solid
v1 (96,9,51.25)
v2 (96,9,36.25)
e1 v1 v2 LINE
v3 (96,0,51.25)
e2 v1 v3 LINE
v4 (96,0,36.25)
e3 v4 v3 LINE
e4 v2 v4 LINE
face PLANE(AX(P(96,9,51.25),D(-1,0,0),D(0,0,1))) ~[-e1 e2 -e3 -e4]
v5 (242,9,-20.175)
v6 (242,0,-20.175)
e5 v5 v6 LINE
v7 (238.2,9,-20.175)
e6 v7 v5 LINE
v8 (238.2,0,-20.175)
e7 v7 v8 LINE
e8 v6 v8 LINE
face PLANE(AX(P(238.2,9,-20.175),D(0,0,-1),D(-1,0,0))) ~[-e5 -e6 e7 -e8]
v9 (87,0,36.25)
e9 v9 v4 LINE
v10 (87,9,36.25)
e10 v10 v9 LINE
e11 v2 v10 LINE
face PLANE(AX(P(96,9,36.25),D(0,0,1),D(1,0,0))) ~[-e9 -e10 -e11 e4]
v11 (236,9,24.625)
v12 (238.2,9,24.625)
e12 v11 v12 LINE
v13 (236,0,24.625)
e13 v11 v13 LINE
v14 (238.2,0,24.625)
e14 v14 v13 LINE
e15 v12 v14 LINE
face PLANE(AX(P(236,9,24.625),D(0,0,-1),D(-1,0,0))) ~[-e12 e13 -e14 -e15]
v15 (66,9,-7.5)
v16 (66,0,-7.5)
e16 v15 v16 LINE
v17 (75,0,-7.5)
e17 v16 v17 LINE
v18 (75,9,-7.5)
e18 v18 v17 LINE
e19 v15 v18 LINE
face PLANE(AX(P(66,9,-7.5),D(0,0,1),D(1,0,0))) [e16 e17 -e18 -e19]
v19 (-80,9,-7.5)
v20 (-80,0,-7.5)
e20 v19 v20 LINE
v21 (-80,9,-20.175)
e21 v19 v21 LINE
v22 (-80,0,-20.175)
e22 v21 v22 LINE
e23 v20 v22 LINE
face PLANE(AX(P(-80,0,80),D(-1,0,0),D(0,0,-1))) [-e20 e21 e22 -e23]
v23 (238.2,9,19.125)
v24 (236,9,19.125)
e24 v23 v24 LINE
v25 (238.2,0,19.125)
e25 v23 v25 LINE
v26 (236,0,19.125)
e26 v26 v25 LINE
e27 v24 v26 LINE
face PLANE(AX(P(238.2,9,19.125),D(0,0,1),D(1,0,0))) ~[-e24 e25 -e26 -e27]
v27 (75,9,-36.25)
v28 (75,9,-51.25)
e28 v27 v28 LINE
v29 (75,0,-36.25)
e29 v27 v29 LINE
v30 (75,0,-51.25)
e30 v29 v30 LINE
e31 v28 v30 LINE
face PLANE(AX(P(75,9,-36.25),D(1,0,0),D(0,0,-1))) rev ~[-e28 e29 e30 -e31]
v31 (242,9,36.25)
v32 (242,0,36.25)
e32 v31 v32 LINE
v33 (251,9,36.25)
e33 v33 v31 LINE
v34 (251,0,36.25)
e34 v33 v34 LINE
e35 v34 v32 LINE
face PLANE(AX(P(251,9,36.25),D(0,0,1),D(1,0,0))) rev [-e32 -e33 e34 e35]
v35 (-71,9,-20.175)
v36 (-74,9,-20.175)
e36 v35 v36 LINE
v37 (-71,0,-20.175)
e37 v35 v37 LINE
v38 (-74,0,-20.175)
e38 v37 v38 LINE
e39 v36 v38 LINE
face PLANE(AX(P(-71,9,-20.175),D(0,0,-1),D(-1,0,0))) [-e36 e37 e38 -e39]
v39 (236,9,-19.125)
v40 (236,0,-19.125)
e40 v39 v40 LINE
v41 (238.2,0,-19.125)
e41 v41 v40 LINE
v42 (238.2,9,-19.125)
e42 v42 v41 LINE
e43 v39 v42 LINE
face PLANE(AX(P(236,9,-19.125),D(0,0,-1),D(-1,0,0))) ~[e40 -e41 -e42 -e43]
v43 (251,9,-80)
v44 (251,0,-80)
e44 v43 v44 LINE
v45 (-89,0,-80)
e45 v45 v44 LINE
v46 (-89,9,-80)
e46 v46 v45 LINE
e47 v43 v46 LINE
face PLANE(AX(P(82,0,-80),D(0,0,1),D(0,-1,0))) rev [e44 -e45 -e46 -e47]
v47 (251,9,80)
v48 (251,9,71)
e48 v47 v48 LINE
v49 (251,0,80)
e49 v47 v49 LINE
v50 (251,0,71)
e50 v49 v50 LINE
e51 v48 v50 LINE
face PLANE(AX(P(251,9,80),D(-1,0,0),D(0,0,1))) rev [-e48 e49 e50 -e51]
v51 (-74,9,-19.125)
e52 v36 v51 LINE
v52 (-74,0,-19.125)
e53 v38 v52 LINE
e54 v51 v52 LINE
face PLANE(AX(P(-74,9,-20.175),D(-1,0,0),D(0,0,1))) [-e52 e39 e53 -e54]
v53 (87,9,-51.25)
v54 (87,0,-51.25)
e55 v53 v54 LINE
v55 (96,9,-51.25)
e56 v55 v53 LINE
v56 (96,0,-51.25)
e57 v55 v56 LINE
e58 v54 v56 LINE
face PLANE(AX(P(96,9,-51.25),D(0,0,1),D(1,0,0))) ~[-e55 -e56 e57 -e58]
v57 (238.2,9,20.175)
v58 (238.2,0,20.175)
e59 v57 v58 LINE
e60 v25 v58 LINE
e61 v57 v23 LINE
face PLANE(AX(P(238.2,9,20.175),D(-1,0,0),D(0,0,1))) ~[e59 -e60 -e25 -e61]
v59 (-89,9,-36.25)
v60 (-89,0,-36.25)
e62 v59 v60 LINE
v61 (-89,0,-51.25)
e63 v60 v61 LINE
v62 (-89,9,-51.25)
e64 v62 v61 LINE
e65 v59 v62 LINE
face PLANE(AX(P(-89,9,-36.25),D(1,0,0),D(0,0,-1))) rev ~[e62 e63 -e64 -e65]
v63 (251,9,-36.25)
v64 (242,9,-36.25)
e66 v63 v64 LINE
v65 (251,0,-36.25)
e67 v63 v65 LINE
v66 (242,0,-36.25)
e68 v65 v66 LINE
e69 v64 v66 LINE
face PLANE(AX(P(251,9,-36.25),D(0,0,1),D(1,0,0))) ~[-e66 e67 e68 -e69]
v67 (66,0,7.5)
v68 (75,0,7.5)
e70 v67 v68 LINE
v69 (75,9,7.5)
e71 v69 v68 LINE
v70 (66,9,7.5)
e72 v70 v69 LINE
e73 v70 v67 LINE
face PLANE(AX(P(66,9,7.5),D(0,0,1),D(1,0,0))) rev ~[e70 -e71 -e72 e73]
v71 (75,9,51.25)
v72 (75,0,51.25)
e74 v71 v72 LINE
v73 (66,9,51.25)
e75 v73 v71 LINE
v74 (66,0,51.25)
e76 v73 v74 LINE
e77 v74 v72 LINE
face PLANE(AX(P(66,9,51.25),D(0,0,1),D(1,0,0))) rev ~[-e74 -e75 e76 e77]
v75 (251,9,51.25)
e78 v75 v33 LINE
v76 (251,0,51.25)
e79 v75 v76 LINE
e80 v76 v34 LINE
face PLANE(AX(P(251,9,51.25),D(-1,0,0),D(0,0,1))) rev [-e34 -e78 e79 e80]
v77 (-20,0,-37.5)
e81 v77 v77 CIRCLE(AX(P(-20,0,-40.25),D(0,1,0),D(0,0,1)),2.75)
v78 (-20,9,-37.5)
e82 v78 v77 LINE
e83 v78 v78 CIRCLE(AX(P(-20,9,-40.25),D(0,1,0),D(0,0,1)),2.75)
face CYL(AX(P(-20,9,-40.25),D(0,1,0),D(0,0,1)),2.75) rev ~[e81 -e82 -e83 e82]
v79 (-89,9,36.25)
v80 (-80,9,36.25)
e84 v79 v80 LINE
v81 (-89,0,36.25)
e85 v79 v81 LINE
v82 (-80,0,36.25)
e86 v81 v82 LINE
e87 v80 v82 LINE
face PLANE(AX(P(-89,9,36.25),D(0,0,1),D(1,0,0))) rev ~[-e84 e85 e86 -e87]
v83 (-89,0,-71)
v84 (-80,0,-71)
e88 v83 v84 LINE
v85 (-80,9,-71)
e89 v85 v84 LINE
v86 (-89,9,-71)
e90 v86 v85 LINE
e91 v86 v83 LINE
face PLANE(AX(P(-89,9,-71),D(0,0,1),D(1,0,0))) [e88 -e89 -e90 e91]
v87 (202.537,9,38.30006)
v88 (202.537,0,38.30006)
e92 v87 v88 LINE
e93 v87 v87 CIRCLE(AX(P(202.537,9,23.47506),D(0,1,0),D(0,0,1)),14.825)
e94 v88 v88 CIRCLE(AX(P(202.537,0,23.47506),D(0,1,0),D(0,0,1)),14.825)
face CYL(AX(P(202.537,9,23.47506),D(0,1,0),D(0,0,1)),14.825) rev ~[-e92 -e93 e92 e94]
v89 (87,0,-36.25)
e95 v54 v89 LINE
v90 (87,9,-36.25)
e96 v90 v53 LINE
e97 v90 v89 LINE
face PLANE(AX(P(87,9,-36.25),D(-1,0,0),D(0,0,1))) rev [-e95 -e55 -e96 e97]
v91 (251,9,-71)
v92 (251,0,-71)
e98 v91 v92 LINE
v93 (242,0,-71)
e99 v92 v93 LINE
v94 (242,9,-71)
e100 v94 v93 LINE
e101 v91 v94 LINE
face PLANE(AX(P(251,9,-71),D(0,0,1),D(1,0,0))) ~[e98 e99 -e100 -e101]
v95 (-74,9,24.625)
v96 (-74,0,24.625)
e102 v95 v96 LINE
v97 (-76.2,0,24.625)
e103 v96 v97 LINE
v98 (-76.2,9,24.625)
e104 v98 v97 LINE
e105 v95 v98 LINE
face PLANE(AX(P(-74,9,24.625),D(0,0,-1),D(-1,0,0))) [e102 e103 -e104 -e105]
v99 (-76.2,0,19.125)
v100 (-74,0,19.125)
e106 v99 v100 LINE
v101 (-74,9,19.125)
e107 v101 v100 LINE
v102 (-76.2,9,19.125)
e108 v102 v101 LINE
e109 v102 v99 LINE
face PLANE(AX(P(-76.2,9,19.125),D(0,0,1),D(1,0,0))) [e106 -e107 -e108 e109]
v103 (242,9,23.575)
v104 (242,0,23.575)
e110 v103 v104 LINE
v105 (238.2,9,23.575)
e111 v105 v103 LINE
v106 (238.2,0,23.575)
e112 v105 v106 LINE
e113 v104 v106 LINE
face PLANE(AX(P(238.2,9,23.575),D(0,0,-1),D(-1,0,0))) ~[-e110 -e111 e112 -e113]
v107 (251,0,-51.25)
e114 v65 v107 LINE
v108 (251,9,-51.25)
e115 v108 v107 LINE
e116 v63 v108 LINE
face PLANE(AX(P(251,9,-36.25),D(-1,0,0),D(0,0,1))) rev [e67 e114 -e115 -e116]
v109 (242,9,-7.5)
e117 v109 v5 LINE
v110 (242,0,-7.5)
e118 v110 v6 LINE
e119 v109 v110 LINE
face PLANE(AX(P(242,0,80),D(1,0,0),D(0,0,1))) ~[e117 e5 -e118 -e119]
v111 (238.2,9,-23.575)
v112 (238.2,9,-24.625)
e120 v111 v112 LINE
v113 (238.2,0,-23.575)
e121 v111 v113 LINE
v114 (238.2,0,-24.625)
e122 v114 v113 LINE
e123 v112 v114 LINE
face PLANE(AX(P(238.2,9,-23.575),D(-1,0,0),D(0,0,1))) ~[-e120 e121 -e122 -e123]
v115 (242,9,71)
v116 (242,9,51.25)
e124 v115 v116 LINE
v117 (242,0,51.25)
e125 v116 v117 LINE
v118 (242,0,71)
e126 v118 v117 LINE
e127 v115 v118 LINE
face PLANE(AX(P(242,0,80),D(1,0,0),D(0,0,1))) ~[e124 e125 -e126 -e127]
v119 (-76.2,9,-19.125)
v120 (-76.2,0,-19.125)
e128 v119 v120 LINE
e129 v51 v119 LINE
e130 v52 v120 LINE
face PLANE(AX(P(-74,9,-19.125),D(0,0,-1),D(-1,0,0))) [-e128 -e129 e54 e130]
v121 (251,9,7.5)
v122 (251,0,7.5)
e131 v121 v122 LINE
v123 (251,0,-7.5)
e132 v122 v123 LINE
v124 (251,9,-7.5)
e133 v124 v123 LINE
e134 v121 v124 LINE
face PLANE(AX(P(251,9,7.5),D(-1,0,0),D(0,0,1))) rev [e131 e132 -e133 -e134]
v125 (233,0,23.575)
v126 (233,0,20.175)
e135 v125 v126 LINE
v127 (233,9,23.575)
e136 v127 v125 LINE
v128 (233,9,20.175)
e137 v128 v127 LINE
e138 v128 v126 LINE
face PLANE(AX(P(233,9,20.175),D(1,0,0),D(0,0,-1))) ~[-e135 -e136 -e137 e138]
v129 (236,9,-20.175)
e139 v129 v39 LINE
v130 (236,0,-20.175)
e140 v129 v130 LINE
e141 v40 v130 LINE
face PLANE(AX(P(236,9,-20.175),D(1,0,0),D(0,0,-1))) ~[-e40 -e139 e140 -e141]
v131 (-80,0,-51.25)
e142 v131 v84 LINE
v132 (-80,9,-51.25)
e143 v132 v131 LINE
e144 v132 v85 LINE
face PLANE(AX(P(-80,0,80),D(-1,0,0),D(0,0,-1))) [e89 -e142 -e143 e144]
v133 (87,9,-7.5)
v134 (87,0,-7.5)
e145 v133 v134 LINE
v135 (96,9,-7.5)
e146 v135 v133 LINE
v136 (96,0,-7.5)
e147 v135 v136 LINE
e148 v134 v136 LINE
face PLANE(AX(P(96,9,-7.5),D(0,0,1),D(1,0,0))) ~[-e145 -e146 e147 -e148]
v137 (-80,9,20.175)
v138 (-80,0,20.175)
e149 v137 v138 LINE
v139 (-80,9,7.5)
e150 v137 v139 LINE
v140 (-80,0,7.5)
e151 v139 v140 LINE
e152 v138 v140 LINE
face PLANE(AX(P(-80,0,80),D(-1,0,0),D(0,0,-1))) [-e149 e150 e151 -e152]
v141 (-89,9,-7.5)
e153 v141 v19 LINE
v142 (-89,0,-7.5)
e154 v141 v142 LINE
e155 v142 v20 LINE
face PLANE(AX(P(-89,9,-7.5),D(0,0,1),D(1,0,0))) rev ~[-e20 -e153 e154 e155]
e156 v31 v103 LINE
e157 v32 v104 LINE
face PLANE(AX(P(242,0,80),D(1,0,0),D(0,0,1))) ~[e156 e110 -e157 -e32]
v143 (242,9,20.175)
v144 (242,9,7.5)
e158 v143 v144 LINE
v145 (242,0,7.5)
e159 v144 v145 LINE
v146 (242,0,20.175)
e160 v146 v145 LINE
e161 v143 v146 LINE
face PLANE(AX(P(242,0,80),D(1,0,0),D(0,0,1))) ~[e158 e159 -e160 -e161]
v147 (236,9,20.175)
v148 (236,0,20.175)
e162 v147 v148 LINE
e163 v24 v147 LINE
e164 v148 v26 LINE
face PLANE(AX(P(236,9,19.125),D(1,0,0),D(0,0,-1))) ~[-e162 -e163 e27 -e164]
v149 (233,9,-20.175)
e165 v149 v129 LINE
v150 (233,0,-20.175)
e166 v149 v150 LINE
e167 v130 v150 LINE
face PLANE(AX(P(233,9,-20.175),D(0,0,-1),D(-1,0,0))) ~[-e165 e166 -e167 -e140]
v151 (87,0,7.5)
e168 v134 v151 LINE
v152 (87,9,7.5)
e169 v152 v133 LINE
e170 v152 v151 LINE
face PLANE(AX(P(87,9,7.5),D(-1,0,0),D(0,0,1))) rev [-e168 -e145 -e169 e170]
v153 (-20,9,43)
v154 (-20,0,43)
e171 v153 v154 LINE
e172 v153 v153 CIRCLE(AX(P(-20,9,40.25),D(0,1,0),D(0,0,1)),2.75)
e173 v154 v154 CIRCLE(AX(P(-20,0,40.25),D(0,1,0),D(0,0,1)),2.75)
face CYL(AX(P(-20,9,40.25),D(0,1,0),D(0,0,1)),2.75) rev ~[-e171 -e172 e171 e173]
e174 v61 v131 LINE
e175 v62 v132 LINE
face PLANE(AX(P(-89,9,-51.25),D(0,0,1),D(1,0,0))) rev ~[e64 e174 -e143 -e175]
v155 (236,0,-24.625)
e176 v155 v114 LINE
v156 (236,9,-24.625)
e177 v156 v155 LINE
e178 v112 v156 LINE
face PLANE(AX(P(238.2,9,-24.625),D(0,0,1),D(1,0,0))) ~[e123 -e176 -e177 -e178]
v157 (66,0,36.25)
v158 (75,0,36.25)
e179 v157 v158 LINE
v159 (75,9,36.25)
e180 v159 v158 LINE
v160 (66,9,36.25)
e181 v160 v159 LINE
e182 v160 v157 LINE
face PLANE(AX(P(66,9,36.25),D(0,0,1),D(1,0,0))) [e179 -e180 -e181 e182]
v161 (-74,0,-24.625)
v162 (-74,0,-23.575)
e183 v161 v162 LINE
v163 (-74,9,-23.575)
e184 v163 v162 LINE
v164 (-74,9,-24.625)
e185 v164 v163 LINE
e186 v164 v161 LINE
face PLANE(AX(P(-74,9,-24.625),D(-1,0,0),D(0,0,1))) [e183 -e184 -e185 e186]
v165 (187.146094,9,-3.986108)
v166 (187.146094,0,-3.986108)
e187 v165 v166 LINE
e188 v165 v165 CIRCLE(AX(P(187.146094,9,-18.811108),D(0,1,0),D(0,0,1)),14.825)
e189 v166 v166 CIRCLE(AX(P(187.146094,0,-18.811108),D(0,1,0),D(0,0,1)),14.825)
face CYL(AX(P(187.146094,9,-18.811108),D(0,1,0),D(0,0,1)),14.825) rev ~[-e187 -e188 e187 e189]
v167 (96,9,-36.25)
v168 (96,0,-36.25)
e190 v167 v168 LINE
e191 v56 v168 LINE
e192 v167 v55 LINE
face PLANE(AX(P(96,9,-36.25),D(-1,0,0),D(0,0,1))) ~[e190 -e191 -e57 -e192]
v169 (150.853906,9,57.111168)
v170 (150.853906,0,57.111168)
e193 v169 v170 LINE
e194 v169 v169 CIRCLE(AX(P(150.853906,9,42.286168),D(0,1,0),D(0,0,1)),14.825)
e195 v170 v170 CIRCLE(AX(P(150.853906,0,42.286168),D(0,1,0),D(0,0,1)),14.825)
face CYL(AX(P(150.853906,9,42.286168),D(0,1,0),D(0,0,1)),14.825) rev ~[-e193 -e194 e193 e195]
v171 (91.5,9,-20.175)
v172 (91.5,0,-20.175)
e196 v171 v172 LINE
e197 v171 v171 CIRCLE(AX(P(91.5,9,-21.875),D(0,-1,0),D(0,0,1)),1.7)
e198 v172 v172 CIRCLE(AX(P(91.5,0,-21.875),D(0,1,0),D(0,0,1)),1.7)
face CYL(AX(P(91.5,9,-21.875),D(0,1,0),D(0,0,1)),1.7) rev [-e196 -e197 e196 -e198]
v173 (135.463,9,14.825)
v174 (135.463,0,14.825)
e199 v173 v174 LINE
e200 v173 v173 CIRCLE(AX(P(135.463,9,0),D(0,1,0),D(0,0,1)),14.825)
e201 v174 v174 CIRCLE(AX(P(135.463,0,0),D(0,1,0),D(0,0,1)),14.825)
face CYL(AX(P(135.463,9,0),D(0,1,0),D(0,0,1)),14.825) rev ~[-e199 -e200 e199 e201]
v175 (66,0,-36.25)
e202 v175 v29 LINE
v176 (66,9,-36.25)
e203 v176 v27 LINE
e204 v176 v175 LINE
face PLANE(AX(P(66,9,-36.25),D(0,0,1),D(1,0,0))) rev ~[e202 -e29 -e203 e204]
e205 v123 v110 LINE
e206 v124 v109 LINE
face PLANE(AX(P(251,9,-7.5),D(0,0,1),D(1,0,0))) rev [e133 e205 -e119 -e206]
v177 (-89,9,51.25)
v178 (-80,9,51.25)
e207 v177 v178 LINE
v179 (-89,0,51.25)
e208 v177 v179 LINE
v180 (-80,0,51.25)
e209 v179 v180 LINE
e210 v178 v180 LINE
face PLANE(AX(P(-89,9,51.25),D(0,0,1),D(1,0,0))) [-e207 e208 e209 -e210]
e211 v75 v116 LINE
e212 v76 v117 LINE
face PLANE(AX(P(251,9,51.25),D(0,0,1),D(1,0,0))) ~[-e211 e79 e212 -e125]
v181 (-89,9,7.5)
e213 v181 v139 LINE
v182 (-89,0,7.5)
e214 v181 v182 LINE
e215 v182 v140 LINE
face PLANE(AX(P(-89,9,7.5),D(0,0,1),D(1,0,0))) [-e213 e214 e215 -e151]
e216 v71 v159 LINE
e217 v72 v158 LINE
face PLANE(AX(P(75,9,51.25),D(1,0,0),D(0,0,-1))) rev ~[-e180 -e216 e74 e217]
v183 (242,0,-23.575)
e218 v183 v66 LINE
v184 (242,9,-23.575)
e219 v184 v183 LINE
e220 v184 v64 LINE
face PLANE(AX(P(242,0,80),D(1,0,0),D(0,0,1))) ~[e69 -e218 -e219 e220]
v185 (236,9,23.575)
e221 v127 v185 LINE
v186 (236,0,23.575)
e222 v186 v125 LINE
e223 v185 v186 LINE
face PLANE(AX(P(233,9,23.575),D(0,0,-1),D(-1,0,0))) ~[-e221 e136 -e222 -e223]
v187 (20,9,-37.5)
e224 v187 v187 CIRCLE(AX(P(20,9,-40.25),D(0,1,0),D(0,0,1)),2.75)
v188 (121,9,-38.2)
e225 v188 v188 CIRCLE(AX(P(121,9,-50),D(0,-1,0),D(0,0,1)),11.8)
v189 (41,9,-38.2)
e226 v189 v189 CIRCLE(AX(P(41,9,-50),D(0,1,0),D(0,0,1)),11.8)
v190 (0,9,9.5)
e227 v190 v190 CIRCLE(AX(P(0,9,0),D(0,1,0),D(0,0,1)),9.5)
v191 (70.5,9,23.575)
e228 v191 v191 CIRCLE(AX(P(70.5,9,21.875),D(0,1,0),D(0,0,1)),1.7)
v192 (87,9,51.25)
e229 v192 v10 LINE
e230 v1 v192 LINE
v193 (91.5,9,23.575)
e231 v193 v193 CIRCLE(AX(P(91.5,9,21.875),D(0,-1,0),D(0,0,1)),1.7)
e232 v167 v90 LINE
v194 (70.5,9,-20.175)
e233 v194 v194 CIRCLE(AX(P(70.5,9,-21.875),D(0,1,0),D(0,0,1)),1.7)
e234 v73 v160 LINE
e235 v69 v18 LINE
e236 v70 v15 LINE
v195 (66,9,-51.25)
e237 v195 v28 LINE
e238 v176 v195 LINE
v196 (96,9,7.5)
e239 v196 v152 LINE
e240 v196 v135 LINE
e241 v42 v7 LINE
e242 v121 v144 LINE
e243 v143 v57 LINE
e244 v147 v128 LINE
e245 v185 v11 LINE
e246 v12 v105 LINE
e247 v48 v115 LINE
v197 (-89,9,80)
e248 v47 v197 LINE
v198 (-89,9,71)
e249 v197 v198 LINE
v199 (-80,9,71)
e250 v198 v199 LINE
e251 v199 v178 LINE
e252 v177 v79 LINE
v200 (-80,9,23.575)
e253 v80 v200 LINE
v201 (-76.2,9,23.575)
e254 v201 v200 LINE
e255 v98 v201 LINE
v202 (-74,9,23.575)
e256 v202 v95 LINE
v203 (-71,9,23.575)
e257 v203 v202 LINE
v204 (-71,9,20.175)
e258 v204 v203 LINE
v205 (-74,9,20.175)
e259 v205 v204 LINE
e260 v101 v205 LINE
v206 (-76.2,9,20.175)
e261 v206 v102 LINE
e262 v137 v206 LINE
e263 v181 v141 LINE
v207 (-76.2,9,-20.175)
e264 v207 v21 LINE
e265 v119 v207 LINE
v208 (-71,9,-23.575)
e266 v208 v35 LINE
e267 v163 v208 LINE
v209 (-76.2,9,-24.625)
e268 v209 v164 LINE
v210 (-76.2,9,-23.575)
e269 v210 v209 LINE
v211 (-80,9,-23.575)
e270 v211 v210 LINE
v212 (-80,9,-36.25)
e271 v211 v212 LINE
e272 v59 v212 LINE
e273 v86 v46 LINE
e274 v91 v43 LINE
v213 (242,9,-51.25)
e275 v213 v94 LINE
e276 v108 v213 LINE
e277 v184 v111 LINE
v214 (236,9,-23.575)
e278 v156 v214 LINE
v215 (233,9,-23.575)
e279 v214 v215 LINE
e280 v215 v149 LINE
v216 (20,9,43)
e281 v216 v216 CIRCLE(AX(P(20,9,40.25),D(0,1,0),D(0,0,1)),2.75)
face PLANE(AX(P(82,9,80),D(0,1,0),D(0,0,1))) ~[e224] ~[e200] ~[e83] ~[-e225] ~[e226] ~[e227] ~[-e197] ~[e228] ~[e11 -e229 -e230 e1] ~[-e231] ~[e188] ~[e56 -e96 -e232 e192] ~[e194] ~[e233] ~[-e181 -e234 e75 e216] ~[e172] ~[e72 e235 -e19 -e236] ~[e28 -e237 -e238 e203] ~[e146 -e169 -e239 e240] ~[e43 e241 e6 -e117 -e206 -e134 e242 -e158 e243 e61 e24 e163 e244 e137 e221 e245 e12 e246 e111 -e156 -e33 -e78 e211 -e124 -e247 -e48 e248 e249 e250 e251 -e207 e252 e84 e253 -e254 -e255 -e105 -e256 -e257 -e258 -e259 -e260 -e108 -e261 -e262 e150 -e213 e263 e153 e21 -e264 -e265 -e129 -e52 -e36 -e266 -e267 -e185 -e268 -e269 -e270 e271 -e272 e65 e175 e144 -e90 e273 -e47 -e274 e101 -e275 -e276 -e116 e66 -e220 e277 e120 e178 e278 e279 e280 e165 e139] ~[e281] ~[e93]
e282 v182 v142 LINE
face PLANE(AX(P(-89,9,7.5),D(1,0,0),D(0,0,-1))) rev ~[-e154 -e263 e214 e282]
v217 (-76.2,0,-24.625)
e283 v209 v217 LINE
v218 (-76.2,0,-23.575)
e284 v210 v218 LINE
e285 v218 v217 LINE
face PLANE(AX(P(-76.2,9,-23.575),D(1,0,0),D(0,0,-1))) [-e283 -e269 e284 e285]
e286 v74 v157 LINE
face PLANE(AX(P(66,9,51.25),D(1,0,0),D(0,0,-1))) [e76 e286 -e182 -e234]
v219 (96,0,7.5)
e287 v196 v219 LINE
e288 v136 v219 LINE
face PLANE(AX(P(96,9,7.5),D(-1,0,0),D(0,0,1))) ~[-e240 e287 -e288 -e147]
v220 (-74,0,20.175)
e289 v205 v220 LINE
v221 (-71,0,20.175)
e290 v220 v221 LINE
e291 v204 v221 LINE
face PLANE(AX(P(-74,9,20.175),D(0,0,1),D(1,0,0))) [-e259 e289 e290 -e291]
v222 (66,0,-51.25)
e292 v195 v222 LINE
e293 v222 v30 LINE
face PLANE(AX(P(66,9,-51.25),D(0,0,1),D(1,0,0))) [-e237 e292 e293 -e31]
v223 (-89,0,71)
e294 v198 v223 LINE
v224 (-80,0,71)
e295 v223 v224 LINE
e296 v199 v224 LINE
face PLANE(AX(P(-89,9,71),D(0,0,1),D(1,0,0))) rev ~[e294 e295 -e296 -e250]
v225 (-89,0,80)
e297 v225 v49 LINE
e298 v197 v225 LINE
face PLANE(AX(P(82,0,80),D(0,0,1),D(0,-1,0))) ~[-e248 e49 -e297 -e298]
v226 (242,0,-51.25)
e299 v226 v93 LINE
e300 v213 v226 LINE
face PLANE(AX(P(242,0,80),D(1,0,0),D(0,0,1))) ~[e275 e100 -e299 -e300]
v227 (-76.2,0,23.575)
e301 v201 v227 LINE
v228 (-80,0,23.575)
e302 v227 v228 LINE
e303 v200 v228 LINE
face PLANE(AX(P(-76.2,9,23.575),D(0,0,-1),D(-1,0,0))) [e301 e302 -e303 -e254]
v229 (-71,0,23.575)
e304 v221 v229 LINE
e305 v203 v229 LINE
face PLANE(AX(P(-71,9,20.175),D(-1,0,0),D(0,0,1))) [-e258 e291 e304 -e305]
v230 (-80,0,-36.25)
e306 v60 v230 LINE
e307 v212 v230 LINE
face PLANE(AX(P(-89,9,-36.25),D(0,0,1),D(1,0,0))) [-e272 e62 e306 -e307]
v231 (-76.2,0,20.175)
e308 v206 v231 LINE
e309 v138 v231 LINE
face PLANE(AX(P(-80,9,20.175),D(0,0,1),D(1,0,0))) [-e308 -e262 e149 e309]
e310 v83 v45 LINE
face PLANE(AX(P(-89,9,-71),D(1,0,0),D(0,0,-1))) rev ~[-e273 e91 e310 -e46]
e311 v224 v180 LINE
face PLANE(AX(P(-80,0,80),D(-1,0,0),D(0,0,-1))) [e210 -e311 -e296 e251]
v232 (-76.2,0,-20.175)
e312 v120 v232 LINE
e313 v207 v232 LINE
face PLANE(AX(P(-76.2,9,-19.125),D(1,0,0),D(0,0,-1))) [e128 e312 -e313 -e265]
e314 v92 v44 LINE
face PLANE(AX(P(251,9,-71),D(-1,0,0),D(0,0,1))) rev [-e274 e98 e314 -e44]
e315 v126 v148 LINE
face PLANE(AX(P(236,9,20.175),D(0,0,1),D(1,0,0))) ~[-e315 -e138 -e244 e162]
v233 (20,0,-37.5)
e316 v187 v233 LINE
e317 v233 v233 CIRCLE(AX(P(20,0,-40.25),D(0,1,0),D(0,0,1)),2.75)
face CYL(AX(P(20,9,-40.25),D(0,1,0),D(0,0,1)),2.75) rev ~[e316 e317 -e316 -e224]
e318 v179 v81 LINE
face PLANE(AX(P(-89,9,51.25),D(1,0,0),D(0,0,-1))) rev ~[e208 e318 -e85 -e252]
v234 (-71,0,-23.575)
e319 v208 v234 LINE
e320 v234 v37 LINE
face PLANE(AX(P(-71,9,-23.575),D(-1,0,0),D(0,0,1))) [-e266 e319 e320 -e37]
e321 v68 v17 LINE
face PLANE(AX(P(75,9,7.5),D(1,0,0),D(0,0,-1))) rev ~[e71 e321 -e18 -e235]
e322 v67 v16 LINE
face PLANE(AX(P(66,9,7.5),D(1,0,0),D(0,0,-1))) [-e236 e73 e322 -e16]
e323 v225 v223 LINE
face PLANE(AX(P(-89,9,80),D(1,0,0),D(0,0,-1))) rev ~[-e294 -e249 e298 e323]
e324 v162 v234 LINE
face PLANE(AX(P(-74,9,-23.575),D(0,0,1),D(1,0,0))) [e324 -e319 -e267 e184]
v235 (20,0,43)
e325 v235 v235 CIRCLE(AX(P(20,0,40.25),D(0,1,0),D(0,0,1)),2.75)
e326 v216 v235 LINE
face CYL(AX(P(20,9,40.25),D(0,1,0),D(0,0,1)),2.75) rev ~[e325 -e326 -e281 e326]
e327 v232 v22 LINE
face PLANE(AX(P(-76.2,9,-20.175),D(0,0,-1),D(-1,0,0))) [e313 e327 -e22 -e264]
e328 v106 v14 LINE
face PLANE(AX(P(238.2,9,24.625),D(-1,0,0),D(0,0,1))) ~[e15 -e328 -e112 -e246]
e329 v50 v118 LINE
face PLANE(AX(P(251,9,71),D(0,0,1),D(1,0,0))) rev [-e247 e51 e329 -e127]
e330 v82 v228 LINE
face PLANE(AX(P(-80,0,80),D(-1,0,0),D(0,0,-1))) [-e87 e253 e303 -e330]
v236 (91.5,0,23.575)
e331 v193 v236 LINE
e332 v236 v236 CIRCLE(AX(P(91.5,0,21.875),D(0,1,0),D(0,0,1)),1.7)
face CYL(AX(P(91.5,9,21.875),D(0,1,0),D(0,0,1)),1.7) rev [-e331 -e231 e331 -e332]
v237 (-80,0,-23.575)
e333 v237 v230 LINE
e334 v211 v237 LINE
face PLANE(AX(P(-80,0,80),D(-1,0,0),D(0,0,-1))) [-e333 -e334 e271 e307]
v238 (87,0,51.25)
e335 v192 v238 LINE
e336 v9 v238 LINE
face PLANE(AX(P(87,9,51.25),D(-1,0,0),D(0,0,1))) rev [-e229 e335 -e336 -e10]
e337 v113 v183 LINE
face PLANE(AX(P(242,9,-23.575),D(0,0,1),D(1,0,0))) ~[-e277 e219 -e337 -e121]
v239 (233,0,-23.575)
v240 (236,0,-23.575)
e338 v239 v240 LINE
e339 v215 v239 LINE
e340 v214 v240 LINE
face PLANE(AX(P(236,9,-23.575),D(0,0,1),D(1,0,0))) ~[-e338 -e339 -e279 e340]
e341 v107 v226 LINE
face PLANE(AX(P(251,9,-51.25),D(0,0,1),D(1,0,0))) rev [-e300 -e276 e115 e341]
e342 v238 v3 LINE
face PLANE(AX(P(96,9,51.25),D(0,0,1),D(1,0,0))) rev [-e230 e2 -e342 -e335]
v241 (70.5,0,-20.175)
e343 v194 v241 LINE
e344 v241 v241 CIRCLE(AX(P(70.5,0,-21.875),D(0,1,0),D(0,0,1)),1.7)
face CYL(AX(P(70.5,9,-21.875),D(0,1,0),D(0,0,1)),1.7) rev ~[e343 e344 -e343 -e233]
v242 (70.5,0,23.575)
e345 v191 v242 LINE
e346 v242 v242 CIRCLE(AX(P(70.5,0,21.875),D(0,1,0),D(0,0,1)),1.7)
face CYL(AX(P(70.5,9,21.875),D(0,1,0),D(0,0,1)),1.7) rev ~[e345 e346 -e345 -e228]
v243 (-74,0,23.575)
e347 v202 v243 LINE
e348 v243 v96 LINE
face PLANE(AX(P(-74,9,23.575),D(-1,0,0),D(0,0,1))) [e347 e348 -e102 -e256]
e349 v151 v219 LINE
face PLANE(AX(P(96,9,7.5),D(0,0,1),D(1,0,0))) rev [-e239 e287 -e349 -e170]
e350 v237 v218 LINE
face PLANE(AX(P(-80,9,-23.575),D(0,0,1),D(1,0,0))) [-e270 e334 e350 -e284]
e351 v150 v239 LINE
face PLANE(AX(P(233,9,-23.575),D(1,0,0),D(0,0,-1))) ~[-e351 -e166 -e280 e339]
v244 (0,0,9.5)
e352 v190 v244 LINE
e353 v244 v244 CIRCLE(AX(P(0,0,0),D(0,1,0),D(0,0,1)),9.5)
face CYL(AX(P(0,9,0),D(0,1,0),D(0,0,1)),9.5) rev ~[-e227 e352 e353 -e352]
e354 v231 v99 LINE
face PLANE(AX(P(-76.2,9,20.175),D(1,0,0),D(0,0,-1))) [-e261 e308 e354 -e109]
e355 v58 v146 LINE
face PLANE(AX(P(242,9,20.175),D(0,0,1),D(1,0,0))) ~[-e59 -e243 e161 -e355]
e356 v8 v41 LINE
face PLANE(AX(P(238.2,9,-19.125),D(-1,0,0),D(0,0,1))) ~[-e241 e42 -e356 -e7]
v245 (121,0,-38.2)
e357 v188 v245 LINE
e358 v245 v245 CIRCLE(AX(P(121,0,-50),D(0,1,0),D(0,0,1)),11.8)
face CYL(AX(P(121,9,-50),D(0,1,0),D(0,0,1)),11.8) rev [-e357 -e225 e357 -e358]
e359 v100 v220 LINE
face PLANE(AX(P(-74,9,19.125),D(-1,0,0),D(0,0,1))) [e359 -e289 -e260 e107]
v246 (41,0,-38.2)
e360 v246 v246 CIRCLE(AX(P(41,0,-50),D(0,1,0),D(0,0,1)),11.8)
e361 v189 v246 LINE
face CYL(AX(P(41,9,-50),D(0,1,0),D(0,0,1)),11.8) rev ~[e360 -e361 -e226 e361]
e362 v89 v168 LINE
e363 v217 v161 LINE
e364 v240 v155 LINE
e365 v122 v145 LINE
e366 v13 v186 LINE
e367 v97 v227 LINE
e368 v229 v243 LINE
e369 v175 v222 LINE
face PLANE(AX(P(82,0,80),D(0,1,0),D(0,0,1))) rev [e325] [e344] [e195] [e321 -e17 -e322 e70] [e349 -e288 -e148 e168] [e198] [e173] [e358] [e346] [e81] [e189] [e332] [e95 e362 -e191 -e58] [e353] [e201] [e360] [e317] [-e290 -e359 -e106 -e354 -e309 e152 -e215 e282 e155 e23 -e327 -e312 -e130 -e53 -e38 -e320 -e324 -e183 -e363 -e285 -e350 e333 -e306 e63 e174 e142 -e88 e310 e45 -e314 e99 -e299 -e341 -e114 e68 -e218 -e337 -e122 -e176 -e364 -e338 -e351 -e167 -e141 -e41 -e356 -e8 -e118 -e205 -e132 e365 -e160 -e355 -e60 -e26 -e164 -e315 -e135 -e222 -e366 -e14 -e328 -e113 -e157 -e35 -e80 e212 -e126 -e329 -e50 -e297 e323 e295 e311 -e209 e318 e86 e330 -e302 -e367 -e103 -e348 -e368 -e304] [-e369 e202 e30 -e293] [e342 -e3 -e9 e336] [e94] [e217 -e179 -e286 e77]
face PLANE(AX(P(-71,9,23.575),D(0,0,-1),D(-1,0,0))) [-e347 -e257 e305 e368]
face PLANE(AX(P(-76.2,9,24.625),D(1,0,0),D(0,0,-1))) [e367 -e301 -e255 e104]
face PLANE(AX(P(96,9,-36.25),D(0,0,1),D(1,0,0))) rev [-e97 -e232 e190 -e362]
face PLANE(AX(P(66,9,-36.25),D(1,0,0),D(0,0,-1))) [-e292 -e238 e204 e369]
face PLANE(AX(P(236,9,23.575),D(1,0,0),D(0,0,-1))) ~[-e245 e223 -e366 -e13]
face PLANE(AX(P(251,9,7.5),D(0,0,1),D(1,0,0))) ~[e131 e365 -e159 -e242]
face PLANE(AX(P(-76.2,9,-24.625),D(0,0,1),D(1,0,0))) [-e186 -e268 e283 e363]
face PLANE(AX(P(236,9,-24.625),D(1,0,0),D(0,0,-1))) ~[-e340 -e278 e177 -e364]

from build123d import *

# Parameters (mm, degrees)
SKETCH1_W           = 160
SKETCH1_H           = 160
BOSS_EXTRUDE1_DEPTH = 9
SKETCH2_W           = 9
SKETCH2_H           = 15
SKETCH2_H_2         = 9
BOSS_EXTRUDE2_DEPTH = 9
SKETCH3_R           = 1.7
SKETCH3_W           = 9
SKETCH3_H           = 15
CUT_EXTRUDE1_DEPTH  = 121.008333044
CUT_EXTRUDE2_DEPTH  = 121.008333044
SKETCH5_R           = 9.5
SKETCH5_R_2         = 2.75
CUT_EXTRUDE3_DEPTH  = 121.008333044
SKETCH6_W           = 160
SKETCH6_H           = 9
BOSS_EXTRUDE3_DEPTH = 1
SKETCH7_R           = 11.8
CUT_EXTRUDE4_DEPTH  = 121.008333044
SKETCH8_R           = 14.825
CUT_EXTRUDE5_DEPTH  = 264.594385373


with BuildPart() as part:
    # Sketch1 → Boss-Extrude1 (new body)
    with BuildSketch(Plane(origin=(0, 0, 0), x_dir=(1, 0, 0), z_dir=(0, 1, 0))):
        Rectangle(SKETCH1_W, SKETCH1_H)
    boss_extrude1 = extrude(amount=BOSS_EXTRUDE1_DEPTH)

    # Sketch2 → Boss-Extrude2 (add)
    with BuildSketch(Plane(origin=(0, 9, 0), x_dir=(1, 0, 0), z_dir=(0, 1, 0))):
        with Locations((-84.5, 0)):
            Rectangle(SKETCH2_W, SKETCH2_H)
        with Locations((-84.5, 43.75)):
            Rectangle(SKETCH2_W, SKETCH2_H)
        with Locations((-84.5, -43.75)):
            Rectangle(SKETCH2_W, SKETCH2_H)
        with Locations((-84.5, 75.5)):
            Rectangle(SKETCH2_W, SKETCH2_H_2)
        with Locations((-84.5, -75.5)):
            Rectangle(SKETCH2_W, SKETCH2_H_2)
    boss_extrude2 = extrude(amount=-BOSS_EXTRUDE2_DEPTH)

    # Sketch3 → Cut-Extrude1 (cut, through all)
    with BuildSketch(Plane(origin=(0, 9, 0), x_dir=(1, 0, 0), z_dir=(0, 1, 0))):
        with Locations(Location((70.5, 21.875, 0), (0, 0, 270))):
            Circle(SKETCH3_R)
        with Locations(Location((70.5, -21.875, 0), (0, 0, 270))):
            Circle(SKETCH3_R)
        with Locations((70.5, 43.75)):
            Rectangle(SKETCH3_W, SKETCH3_H)
        with Locations((70.5, 0)):
            Rectangle(SKETCH3_W, SKETCH3_H)
        with Locations((70.5, -43.75)):
            Rectangle(SKETCH3_W, SKETCH3_H)
    cut_extrude1 = extrude(amount=-CUT_EXTRUDE1_DEPTH, mode=Mode.SUBTRACT)

    # Sketch4 → Cut-Extrude2 (cut, through all)
    with BuildSketch(Plane(origin=(0, 9, 0), x_dir=(1, 0, 0), z_dir=(0, 1, 0))):
        Polygon((-80, 23.575), (-76.2, 23.575), (-76.2, 24.625), (-74, 24.625), (-74, 23.575), (-71, 23.575), (-71, 20.175), (-74, 20.175), (-74, 19.125), (-76.2, 19.125), (-76.2, 20.175), (-80, 20.175), align=None)
        Polygon((-80, -23.575), (-80, -20.175), (-76.2, -20.175), (-76.2, -19.125), (-74, -19.125), (-74, -20.175), (-71, -20.175), (-71, -23.575), (-74, -23.575), (-74, -24.625), (-76.2, -24.625), (-76.2, -23.575), align=None)
    cut_extrude2 = extrude(amount=-CUT_EXTRUDE2_DEPTH, mode=Mode.SUBTRACT)

    # Sketch5 → Cut-Extrude3 (cut, through all)
    with BuildSketch(Plane(origin=(0, 9, 0), x_dir=(1, 0, 0), z_dir=(0, 1, 0))):
        with Locations(Location((0, 0, 0), (0, 0, 270))):
            Circle(SKETCH5_R)
        with Locations(Location((-20, 40.25, 0), (0, 0, 270))):
            Circle(SKETCH5_R_2)
        with Locations(Location((20, 40.25, 0), (0, 0, 270))):
            Circle(SKETCH5_R_2)
        with Locations(Location((20, -40.25, 0), (0, 0, 270))):
            Circle(SKETCH5_R_2)
        with Locations(Location((-20, -40.25, 0), (0, 0, 270))):
            Circle(SKETCH5_R_2)
    extrude(amount=-CUT_EXTRUDE3_DEPTH, mode=Mode.SUBTRACT)

    # Sketch6 → Boss-Extrude3 (add)
    with BuildSketch(Plane(origin=(80, 0, 0), x_dir=(0, 0, -1), z_dir=(1, 0, 0))):
        with Locations((0, 4.5)):
            Rectangle(SKETCH6_W, SKETCH6_H)
    boss_extrude3 = extrude(amount=BOSS_EXTRUDE3_DEPTH)

    # Sketch7 → Cut-Extrude4 (cut, through all)
    with BuildSketch(Plane(origin=(0, 9, 0), x_dir=(1, 0, 0), z_dir=(0, 1, 0))):
        with Locations(Location((41, 50, 0), (0, 0, 270))):
            Circle(SKETCH7_R)
    cut_extrude4 = extrude(amount=-CUT_EXTRUDE4_DEPTH, mode=Mode.SUBTRACT)

    # Mirror1: Boss-Extrude1, Boss-Extrude2, Cut-Extrude1, Cut-Extrude2, Boss-Extrude3, Cut-Extrude4 across plane
    add(boss_extrude1.mirror(Plane.ZY.offset(-81)))
    add(boss_extrude2.mirror(Plane.ZY.offset(-81)))
    add(cut_extrude1.mirror(Plane.ZY.offset(-81)), mode=Mode.SUBTRACT)
    add(cut_extrude2.mirror(Plane.ZY.offset(-81)), mode=Mode.SUBTRACT)
    add(boss_extrude3.mirror(Plane.ZY.offset(-81)))
    add(cut_extrude4.mirror(Plane.ZY.offset(-81)), mode=Mode.SUBTRACT)

    # Sketch8 → Cut-Extrude5 (cut, through all)
    with BuildSketch(Plane(origin=(0, 9, 0), x_dir=(1, 0, 0), z_dir=(0, 1, 0))):
        with Locations(Location((135.462999704, 0, 0), (0, 0, 270))):
            Circle(SKETCH8_R)
        with Locations(Location((187.146093847, 18.811107883, 0), (0, 0, 270))):
            Circle(SKETCH8_R)
        with Locations(Location((202.537000296, -23.475060052, 0), (0, 0, 270))):
            Circle(SKETCH8_R)
        with Locations(Location((150.853906153, -42.286167935, 0), (0, 0, 270))):
            Circle(SKETCH8_R)
    extrude(amount=-CUT_EXTRUDE5_DEPTH, mode=Mode.SUBTRACT)


solid = part.part
